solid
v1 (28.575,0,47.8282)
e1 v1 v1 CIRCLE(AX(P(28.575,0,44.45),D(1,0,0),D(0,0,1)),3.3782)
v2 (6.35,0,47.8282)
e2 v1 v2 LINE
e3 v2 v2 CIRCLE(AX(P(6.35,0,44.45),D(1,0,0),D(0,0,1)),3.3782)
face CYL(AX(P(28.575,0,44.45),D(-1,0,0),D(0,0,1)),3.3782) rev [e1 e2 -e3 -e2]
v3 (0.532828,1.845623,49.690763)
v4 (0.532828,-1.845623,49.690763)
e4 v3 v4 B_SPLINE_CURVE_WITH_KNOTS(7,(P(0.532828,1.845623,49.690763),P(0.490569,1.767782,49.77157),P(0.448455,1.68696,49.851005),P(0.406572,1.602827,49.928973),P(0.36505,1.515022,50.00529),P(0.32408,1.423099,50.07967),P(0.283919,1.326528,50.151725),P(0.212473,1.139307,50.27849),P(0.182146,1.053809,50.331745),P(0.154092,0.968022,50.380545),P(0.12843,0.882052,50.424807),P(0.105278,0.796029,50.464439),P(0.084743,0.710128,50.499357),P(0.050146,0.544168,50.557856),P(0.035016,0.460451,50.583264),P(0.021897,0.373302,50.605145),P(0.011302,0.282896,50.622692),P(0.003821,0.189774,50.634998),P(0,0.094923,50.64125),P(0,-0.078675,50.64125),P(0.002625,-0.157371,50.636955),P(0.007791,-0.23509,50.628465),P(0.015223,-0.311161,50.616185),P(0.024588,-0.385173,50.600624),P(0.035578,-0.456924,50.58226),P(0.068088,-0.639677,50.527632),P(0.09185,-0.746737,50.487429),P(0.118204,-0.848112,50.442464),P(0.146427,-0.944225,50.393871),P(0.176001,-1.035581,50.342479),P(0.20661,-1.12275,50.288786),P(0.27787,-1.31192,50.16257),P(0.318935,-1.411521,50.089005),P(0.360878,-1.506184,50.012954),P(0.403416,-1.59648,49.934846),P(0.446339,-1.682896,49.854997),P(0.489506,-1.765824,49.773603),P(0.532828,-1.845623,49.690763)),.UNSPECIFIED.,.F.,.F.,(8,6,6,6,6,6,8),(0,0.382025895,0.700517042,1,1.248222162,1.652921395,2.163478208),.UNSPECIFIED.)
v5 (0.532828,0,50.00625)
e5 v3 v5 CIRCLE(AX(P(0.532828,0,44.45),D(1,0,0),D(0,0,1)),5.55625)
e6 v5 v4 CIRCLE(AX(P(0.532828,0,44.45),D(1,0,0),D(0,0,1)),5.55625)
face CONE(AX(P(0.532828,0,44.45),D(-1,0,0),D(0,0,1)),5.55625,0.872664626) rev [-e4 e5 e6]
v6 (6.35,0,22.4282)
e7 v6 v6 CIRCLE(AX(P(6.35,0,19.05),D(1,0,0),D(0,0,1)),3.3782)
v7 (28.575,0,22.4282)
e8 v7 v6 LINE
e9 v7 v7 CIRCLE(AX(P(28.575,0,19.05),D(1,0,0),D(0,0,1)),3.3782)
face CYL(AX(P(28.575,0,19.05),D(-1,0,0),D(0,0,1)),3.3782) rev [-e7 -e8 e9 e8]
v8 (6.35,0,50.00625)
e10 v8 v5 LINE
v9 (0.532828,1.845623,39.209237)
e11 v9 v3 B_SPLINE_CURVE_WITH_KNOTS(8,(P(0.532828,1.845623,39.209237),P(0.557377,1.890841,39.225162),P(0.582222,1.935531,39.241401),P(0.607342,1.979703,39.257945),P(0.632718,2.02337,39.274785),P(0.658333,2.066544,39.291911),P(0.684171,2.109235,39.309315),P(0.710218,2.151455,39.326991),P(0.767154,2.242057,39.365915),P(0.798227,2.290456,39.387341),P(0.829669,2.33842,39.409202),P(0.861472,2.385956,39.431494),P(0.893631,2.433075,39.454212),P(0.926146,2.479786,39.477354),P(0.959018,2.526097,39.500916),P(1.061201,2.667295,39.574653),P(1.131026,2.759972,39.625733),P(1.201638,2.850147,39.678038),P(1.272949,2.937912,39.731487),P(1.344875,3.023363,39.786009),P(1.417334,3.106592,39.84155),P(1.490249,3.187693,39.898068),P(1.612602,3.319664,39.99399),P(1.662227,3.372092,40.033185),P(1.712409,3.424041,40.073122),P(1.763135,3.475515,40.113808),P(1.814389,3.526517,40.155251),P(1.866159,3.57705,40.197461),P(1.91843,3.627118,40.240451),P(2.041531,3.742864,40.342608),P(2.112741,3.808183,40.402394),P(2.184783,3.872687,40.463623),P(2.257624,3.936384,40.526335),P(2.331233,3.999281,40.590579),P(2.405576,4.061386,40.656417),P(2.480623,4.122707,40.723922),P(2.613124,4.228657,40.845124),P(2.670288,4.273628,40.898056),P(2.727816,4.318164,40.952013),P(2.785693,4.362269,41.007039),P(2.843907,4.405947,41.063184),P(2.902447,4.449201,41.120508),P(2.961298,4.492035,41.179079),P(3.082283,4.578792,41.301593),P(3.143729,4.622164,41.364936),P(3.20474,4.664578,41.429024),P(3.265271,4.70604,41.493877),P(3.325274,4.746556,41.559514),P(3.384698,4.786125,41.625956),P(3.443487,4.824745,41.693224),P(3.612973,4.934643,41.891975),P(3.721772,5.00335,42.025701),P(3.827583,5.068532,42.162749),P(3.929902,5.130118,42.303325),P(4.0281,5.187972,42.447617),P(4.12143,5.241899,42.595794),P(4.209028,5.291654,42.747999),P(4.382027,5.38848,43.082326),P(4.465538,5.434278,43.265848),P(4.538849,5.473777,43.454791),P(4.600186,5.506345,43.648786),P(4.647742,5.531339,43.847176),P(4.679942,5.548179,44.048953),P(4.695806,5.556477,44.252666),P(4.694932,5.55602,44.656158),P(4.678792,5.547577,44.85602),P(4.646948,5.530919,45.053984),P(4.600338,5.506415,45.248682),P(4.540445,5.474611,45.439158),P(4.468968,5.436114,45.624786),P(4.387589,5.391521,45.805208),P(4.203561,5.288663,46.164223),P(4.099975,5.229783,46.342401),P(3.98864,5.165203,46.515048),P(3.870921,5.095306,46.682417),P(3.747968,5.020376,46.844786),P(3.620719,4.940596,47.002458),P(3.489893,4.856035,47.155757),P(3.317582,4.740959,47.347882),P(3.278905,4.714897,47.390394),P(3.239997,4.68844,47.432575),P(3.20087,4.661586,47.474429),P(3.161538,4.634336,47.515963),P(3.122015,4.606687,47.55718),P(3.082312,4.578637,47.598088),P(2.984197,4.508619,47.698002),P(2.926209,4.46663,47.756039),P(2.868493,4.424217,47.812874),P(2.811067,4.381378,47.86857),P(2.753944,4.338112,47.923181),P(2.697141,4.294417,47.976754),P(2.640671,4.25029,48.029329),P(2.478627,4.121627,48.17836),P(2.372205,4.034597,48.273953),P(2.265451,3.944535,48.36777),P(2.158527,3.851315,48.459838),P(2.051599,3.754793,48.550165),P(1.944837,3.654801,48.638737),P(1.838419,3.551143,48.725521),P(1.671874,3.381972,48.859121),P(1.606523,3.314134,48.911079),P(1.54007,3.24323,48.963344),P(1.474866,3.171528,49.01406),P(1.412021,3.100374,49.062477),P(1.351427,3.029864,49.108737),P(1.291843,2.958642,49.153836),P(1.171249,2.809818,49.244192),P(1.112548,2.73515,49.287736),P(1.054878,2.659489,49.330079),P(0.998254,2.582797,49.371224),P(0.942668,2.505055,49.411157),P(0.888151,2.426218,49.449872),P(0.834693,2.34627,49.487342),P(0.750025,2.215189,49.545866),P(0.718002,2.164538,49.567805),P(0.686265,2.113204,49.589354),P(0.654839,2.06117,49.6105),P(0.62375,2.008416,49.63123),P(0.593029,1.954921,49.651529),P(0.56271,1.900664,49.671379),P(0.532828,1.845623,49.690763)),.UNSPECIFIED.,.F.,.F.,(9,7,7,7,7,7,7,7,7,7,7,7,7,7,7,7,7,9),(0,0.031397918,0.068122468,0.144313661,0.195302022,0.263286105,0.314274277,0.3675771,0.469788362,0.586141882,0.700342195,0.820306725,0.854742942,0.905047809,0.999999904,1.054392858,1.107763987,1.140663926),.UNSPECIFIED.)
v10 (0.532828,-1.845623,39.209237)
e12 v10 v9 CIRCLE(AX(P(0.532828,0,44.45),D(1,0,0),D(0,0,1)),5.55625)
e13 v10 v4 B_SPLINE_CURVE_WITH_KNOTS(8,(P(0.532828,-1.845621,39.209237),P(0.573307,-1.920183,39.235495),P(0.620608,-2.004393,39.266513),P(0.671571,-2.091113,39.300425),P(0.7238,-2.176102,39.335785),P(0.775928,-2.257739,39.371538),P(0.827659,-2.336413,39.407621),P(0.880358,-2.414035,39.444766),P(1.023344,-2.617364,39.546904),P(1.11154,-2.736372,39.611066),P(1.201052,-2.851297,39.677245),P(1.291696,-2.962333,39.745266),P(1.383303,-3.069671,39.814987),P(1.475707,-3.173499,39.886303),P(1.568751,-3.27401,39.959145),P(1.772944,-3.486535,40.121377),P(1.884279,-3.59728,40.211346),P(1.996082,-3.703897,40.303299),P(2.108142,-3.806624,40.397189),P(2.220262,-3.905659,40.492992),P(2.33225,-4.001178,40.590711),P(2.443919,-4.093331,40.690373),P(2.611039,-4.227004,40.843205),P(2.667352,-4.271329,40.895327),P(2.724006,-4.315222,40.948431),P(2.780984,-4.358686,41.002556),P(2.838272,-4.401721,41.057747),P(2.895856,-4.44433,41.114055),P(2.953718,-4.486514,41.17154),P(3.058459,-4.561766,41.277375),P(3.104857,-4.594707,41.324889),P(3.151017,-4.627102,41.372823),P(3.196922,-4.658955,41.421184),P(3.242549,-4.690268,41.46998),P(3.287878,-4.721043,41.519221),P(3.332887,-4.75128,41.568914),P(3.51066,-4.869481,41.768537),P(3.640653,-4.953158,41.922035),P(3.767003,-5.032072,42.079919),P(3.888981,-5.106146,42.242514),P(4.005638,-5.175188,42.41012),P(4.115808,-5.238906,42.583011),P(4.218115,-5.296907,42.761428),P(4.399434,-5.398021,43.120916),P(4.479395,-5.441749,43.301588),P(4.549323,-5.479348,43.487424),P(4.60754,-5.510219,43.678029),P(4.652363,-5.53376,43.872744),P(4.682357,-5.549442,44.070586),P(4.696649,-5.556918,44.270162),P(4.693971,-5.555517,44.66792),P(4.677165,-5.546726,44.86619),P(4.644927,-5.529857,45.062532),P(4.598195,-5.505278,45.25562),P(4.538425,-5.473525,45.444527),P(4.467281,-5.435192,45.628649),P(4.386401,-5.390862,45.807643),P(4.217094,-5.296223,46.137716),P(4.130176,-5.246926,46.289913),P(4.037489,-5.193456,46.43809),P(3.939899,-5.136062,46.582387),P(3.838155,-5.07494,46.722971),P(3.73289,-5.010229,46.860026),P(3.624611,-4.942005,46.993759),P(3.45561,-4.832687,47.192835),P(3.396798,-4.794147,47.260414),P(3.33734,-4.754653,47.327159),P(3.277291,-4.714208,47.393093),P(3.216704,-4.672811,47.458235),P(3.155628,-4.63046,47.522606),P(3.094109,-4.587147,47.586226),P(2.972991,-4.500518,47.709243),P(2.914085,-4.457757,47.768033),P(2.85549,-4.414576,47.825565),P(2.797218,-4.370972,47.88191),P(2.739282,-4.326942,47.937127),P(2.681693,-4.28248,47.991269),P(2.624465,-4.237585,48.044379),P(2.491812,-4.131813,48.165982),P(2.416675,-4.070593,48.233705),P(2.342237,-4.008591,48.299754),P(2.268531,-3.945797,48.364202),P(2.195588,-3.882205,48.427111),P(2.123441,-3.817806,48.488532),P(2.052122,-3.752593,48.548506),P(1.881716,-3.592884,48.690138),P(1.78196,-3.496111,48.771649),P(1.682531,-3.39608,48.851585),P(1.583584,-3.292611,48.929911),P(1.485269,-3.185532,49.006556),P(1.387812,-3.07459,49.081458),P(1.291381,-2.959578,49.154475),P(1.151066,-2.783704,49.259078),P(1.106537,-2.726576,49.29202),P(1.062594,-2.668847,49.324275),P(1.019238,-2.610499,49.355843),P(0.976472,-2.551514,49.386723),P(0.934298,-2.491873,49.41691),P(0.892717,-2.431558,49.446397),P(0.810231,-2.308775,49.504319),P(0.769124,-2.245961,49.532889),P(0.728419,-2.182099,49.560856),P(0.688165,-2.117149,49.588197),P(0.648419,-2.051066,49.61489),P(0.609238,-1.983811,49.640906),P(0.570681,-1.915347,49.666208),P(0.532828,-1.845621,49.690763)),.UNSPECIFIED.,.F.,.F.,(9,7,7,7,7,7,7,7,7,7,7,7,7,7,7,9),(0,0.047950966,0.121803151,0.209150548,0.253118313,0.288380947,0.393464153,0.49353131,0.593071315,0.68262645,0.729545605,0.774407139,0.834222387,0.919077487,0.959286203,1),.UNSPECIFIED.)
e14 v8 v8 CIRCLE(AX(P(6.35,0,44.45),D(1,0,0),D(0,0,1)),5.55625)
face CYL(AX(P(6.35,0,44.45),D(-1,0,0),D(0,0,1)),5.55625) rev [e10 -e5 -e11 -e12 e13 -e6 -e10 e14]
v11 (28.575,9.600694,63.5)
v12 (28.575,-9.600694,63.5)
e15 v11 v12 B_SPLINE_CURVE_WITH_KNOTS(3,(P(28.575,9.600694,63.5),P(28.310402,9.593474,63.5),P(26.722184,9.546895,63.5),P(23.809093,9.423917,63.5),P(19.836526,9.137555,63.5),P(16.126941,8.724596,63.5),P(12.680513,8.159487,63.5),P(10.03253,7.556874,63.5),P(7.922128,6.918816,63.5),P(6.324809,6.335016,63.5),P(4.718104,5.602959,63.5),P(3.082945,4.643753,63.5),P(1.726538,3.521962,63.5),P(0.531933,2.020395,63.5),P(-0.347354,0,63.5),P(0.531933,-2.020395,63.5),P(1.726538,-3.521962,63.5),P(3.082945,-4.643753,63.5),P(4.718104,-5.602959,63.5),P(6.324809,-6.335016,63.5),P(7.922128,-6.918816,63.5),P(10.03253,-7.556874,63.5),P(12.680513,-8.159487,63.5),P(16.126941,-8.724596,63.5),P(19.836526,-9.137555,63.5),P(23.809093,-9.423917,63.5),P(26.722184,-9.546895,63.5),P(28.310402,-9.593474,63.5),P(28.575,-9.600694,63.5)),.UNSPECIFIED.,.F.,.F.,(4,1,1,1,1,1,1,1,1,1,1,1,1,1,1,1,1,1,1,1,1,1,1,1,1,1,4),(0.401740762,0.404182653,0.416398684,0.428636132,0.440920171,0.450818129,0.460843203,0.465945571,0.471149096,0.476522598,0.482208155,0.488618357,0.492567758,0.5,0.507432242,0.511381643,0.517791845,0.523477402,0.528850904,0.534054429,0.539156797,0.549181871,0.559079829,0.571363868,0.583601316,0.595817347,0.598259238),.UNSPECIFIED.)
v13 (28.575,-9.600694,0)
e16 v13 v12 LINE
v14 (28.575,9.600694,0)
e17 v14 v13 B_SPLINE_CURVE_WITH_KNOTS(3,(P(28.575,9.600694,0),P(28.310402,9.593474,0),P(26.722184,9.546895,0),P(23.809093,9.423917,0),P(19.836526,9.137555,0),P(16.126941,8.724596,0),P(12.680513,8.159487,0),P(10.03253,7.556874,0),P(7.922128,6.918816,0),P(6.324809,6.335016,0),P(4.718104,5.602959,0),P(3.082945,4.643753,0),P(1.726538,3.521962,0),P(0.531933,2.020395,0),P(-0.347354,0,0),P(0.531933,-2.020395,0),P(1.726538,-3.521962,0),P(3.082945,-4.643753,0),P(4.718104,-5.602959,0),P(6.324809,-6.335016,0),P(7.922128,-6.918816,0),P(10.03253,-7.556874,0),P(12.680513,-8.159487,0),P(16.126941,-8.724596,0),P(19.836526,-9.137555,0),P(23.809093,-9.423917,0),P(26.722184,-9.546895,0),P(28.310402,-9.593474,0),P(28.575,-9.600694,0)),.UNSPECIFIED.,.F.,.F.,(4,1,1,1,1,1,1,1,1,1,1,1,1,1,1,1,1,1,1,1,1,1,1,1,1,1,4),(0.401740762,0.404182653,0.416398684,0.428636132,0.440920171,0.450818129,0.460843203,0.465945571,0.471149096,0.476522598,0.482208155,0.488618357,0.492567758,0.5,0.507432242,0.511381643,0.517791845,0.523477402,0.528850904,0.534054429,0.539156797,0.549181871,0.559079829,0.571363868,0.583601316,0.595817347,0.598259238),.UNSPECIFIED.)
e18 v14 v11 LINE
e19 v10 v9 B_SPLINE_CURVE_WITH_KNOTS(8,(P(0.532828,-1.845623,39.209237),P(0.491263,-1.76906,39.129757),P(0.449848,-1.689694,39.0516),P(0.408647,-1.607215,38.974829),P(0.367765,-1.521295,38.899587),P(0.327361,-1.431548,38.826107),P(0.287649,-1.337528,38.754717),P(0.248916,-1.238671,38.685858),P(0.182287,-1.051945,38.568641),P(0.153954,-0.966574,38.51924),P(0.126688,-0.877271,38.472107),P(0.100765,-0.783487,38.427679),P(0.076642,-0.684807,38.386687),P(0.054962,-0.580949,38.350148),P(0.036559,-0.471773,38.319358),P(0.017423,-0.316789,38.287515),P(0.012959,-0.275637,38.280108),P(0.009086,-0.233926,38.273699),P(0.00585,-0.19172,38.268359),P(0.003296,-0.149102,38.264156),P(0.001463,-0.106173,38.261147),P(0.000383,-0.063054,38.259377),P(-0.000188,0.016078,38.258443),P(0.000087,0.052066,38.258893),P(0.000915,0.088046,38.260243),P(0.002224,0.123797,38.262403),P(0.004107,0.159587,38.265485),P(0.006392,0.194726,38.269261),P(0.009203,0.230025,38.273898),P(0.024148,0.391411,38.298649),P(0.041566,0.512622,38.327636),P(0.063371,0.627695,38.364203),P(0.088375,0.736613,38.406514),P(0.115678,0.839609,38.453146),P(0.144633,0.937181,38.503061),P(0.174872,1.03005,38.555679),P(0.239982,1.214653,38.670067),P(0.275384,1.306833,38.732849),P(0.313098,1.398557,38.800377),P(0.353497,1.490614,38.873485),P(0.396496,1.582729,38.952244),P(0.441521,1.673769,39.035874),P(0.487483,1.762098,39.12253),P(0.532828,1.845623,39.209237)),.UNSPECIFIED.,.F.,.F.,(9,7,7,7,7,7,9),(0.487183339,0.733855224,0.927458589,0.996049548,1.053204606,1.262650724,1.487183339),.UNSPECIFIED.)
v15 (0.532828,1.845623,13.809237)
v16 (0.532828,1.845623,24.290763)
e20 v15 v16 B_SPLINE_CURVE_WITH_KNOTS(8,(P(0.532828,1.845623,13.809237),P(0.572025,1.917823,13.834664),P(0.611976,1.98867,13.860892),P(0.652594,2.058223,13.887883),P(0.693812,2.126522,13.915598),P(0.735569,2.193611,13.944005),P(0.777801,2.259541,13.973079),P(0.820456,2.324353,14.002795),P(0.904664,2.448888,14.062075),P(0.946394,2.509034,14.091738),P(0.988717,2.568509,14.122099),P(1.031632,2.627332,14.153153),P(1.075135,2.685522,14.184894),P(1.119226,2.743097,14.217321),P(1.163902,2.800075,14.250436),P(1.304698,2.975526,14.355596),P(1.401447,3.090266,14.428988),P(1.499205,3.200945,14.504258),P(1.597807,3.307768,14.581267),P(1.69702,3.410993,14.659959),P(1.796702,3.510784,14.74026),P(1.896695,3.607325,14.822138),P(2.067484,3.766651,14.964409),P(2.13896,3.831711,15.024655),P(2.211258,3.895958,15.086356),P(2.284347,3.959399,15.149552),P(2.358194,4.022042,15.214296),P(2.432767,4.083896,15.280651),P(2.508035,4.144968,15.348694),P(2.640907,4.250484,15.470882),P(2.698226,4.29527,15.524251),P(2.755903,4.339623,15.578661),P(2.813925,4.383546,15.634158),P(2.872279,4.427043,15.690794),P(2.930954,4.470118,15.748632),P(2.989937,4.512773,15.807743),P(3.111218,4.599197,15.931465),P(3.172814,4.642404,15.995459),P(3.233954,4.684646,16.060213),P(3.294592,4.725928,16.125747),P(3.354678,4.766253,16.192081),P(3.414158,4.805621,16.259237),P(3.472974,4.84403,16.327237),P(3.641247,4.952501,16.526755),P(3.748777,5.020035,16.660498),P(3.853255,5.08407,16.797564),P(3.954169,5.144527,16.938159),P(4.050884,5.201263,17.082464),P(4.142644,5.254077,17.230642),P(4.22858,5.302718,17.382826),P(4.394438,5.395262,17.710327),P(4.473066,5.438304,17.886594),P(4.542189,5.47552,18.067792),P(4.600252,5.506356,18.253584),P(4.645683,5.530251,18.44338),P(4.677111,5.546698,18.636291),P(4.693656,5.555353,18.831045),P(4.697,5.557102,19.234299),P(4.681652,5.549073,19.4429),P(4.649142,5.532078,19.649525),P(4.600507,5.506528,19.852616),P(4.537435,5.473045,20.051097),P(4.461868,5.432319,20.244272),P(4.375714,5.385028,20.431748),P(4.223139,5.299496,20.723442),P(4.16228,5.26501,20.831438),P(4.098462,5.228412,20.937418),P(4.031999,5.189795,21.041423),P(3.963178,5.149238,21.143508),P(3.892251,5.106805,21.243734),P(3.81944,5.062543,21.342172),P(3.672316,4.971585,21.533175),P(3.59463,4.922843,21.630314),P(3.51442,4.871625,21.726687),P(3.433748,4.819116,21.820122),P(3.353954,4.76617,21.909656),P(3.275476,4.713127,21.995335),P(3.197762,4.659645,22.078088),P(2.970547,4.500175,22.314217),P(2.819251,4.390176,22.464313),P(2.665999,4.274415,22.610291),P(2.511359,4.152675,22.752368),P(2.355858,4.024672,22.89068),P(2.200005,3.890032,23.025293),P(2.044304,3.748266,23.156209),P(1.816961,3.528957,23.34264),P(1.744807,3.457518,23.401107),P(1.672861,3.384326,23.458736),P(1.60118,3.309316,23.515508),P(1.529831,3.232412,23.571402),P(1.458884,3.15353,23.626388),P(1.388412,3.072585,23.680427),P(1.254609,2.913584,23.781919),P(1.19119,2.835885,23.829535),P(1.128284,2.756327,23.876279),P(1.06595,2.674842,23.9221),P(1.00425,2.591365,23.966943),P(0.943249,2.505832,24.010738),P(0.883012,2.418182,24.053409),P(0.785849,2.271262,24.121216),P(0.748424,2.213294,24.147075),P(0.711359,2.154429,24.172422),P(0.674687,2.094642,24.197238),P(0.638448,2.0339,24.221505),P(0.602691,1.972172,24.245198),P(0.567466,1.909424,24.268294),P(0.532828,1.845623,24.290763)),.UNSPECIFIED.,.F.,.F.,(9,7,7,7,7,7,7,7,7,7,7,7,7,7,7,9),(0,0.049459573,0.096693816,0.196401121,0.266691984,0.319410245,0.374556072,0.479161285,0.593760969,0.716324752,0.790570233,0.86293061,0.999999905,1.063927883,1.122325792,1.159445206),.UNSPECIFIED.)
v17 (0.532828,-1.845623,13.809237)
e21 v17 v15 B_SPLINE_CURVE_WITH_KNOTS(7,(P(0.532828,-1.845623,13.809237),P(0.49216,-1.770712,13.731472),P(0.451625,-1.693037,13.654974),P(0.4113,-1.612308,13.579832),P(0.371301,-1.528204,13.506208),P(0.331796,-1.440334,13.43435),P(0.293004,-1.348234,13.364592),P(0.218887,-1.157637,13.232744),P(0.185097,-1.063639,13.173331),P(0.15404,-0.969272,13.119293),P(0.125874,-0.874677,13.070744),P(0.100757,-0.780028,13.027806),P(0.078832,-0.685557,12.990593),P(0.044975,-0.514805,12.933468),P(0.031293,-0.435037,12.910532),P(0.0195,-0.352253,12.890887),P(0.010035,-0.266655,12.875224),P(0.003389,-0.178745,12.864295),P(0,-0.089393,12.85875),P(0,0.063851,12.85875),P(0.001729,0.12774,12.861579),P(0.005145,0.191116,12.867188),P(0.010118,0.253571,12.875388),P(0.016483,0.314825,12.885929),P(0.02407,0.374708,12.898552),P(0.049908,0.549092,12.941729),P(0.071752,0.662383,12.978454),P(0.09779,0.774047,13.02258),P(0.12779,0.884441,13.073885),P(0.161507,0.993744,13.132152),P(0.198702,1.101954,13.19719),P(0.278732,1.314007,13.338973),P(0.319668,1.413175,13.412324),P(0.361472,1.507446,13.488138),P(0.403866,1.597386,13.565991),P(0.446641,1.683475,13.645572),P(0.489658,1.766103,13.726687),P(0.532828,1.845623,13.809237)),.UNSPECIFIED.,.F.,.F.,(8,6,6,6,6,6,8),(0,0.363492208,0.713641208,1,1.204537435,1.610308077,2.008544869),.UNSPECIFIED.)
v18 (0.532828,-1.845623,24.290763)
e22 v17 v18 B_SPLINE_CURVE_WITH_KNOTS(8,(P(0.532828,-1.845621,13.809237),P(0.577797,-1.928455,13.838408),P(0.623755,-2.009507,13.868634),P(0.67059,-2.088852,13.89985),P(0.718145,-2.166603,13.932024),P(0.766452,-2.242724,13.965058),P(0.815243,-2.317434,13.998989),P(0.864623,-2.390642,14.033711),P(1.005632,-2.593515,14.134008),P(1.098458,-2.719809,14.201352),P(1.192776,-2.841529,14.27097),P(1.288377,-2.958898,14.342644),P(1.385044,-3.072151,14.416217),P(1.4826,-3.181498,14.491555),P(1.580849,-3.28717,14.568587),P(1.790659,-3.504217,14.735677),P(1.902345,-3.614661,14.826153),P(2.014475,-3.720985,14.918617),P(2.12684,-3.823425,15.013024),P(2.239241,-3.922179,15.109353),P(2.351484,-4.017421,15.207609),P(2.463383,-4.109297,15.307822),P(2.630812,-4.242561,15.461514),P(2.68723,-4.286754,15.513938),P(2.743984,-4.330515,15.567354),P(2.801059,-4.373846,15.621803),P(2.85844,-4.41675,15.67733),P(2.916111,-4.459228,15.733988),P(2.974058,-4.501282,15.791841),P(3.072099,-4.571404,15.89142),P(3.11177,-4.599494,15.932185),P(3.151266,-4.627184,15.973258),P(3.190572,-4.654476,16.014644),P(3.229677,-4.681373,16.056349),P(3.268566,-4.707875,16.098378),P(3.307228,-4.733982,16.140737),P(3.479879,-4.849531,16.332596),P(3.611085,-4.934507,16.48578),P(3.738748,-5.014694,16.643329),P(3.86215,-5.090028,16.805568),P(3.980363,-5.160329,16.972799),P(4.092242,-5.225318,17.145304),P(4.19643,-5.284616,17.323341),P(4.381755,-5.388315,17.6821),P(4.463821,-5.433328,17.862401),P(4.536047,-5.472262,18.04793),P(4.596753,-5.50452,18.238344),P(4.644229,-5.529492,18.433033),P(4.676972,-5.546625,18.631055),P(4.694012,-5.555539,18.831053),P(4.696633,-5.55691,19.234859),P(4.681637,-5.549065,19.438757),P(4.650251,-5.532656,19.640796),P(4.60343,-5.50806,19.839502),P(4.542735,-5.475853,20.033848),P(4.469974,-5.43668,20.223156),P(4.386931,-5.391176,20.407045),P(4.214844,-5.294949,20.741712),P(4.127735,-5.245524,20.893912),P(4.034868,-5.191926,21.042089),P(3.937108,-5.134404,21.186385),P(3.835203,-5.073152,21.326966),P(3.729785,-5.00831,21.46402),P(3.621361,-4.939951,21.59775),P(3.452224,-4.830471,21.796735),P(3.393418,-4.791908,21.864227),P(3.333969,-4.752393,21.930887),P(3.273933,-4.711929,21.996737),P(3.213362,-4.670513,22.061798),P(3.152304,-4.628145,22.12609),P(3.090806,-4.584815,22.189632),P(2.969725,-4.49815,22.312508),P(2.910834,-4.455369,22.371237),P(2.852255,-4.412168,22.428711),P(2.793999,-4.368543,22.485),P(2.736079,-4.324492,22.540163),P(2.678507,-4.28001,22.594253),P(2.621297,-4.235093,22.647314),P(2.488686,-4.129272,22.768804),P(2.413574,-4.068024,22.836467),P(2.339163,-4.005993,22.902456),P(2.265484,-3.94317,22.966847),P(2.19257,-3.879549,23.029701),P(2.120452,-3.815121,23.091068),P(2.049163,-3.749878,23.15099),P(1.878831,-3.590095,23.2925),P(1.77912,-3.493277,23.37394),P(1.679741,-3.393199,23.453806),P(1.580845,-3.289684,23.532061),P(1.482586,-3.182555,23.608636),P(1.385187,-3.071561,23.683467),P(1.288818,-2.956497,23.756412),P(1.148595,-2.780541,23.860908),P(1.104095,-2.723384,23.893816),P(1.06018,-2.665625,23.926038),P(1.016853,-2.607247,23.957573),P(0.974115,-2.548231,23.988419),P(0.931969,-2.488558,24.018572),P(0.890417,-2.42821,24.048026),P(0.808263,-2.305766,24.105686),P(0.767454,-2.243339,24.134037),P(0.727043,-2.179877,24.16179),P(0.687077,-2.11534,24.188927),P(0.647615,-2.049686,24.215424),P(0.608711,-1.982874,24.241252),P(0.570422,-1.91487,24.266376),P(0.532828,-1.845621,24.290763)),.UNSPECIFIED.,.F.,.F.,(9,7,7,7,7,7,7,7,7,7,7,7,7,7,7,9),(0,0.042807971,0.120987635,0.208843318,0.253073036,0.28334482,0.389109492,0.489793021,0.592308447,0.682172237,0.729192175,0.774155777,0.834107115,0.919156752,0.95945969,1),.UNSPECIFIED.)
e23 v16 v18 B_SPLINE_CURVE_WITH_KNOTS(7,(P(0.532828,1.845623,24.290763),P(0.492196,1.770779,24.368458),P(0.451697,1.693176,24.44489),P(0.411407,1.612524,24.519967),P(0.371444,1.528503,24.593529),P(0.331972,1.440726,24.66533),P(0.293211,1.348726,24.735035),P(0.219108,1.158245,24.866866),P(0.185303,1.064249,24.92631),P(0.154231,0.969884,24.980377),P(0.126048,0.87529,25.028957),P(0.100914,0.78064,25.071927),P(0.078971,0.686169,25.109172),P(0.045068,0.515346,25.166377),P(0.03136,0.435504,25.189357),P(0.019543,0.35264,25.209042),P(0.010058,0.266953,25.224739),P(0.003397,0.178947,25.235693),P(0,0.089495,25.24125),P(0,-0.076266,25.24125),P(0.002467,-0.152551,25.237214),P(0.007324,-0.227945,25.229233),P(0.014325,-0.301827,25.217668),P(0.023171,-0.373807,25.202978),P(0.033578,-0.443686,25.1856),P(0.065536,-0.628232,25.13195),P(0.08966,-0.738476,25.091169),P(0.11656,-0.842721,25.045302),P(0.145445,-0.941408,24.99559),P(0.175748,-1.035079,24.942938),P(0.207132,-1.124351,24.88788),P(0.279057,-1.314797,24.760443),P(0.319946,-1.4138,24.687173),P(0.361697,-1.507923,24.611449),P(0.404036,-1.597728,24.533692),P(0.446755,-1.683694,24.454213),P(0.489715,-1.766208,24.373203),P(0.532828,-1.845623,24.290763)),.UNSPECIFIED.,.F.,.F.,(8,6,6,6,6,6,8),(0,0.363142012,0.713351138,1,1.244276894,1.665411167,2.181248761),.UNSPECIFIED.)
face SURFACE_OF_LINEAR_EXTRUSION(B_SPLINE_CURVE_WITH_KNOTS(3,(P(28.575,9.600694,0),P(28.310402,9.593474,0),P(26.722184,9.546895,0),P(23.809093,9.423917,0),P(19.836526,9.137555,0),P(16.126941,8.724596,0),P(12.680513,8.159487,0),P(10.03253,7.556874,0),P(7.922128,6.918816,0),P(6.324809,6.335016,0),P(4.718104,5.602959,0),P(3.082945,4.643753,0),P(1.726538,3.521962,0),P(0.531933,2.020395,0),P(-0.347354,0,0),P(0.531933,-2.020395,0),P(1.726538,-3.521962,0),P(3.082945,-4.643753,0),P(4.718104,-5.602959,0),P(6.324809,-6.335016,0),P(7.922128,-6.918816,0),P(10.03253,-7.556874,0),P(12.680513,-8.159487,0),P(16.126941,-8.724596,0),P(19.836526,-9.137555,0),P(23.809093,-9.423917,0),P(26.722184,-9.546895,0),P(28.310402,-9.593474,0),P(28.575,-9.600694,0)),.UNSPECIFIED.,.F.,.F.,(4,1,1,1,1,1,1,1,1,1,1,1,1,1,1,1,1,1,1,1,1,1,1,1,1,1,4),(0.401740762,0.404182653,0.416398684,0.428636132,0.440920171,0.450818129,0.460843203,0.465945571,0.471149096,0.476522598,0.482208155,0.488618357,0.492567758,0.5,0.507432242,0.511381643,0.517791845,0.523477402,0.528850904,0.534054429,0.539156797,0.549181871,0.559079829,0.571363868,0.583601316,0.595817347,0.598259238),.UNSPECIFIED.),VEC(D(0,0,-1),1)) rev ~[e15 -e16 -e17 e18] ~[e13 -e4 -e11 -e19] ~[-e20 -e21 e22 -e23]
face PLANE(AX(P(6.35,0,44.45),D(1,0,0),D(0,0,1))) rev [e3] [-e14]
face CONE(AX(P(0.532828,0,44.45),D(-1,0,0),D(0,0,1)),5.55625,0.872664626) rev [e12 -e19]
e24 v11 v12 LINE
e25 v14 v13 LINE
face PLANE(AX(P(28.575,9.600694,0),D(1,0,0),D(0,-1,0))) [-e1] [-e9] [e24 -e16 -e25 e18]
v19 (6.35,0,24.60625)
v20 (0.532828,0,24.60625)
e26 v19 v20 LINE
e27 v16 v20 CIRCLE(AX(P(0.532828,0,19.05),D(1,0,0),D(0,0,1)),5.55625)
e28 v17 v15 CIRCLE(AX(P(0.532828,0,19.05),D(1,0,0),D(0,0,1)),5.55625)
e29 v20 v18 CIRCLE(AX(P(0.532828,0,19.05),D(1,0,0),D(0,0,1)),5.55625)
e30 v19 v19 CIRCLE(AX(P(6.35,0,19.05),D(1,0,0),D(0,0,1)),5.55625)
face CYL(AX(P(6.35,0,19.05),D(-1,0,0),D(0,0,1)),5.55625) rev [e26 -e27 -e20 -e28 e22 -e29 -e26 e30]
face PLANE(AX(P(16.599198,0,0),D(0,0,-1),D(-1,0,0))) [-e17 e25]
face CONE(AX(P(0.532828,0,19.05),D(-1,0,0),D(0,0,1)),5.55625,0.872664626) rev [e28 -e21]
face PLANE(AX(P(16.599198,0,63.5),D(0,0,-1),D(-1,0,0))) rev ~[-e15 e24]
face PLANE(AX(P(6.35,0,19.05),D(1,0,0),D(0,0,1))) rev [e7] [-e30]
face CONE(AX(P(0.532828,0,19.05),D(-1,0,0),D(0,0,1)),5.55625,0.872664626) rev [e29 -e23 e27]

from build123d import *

# Parameters (mm, degrees)
BOSS_EXTRUDE1_DEPTH                           = 63.5
CBORE_FOR_1_4_SOCKET_HEAD_CAP_SCREW1_AT_COUNT = 2
CBORE_FOR_1_4_SOCKET_HEAD_CAP_SCREW1_AT_PITCH = 25.4


with BuildPart() as part:
    # Sketch2 → Boss-Extrude1 (new body)
    with BuildSketch(Plane.XY):
        with BuildLine():
            Line((28.575, 9.600693743), (28.575, -9.600693743))
            add(Edge.make_bspline(
                [(28.575, 9.600693743), (28.310401864, 9.593474335), (26.722184431, 9.546895018), (23.80909263, 9.423916942), (19.83652587, 9.137555224), (16.126941466, 8.724596023), (12.680513312, 8.159487318), (10.032530426, 7.556873589), (7.922127502, 6.918815912), (6.324809311, 6.335015586), (4.718104282, 5.602959138), (3.08294517, 4.643752576), (1.726538443, 3.521961778), (0.531933312, 2.020395179), (-0.347353812, 0), (0.531933312, -2.020395179), (1.726538443, -3.521961778), (3.08294517, -4.643752576), (4.718104282, -5.602959138), (6.324809311, -6.335015586), (7.922127502, -6.918815912), (10.032530426, -7.556873589), (12.680513312, -8.159487318), (16.126941466, -8.724596023), (19.83652587, -9.137555224), (23.80909263, -9.423916942), (26.722184431, -9.546895018), (28.310401864, -9.593474335), (28.575, -9.600693743)],
                knots=[0.401740762, 0.401740762, 0.401740762, 0.401740762, 0.404182653, 0.416398684, 0.428636132, 0.440920171, 0.450818129, 0.460843203, 0.465945571, 0.471149096, 0.476522598, 0.482208155, 0.488618357, 0.492567758, 0.5, 0.507432242, 0.511381643, 0.517791845, 0.523477402, 0.528850904, 0.534054429, 0.539156797, 0.549181871, 0.559079829, 0.571363868, 0.583601316, 0.595817347, 0.598259238, 0.598259238, 0.598259238, 0.598259238], degree=3))
        make_face()
    extrude(amount=BOSS_EXTRUDE1_DEPTH)

    # Sketch5 → CBORE for 1/4 Socket Head Cap Screw1 (revolve, cut)
    with BuildSketch(Plane(origin=(0, 0, 19.05), x_dir=(0, 0, 1), z_dir=(0, 1, 0))):
        Polygon((0, 0), (0, 28.575), (3.3782, 28.575), (3.3782, 6.35), (5.55625, 6.35), (5.55625, 0.532828266), (6.19125, 0), align=None)
    cbore_for_1_4_socket_head_cap_screw1 = revolve(axis=Axis((-6.35, 0, 19.05), (1, 0, 0)), mode=Mode.SUBTRACT)

    # CBORE for 1/4 Socket Head Cap Screw1 at: CBORE for 1/4 Socket Head Cap Screw1 ×2
    with Locations(*[(0, 0, i * CBORE_FOR_1_4_SOCKET_HEAD_CAP_SCREW1_AT_PITCH) for i in range(1, CBORE_FOR_1_4_SOCKET_HEAD_CAP_SCREW1_AT_COUNT)]):
        add(cbore_for_1_4_socket_head_cap_screw1, mode=Mode.SUBTRACT)


solid = part.part
